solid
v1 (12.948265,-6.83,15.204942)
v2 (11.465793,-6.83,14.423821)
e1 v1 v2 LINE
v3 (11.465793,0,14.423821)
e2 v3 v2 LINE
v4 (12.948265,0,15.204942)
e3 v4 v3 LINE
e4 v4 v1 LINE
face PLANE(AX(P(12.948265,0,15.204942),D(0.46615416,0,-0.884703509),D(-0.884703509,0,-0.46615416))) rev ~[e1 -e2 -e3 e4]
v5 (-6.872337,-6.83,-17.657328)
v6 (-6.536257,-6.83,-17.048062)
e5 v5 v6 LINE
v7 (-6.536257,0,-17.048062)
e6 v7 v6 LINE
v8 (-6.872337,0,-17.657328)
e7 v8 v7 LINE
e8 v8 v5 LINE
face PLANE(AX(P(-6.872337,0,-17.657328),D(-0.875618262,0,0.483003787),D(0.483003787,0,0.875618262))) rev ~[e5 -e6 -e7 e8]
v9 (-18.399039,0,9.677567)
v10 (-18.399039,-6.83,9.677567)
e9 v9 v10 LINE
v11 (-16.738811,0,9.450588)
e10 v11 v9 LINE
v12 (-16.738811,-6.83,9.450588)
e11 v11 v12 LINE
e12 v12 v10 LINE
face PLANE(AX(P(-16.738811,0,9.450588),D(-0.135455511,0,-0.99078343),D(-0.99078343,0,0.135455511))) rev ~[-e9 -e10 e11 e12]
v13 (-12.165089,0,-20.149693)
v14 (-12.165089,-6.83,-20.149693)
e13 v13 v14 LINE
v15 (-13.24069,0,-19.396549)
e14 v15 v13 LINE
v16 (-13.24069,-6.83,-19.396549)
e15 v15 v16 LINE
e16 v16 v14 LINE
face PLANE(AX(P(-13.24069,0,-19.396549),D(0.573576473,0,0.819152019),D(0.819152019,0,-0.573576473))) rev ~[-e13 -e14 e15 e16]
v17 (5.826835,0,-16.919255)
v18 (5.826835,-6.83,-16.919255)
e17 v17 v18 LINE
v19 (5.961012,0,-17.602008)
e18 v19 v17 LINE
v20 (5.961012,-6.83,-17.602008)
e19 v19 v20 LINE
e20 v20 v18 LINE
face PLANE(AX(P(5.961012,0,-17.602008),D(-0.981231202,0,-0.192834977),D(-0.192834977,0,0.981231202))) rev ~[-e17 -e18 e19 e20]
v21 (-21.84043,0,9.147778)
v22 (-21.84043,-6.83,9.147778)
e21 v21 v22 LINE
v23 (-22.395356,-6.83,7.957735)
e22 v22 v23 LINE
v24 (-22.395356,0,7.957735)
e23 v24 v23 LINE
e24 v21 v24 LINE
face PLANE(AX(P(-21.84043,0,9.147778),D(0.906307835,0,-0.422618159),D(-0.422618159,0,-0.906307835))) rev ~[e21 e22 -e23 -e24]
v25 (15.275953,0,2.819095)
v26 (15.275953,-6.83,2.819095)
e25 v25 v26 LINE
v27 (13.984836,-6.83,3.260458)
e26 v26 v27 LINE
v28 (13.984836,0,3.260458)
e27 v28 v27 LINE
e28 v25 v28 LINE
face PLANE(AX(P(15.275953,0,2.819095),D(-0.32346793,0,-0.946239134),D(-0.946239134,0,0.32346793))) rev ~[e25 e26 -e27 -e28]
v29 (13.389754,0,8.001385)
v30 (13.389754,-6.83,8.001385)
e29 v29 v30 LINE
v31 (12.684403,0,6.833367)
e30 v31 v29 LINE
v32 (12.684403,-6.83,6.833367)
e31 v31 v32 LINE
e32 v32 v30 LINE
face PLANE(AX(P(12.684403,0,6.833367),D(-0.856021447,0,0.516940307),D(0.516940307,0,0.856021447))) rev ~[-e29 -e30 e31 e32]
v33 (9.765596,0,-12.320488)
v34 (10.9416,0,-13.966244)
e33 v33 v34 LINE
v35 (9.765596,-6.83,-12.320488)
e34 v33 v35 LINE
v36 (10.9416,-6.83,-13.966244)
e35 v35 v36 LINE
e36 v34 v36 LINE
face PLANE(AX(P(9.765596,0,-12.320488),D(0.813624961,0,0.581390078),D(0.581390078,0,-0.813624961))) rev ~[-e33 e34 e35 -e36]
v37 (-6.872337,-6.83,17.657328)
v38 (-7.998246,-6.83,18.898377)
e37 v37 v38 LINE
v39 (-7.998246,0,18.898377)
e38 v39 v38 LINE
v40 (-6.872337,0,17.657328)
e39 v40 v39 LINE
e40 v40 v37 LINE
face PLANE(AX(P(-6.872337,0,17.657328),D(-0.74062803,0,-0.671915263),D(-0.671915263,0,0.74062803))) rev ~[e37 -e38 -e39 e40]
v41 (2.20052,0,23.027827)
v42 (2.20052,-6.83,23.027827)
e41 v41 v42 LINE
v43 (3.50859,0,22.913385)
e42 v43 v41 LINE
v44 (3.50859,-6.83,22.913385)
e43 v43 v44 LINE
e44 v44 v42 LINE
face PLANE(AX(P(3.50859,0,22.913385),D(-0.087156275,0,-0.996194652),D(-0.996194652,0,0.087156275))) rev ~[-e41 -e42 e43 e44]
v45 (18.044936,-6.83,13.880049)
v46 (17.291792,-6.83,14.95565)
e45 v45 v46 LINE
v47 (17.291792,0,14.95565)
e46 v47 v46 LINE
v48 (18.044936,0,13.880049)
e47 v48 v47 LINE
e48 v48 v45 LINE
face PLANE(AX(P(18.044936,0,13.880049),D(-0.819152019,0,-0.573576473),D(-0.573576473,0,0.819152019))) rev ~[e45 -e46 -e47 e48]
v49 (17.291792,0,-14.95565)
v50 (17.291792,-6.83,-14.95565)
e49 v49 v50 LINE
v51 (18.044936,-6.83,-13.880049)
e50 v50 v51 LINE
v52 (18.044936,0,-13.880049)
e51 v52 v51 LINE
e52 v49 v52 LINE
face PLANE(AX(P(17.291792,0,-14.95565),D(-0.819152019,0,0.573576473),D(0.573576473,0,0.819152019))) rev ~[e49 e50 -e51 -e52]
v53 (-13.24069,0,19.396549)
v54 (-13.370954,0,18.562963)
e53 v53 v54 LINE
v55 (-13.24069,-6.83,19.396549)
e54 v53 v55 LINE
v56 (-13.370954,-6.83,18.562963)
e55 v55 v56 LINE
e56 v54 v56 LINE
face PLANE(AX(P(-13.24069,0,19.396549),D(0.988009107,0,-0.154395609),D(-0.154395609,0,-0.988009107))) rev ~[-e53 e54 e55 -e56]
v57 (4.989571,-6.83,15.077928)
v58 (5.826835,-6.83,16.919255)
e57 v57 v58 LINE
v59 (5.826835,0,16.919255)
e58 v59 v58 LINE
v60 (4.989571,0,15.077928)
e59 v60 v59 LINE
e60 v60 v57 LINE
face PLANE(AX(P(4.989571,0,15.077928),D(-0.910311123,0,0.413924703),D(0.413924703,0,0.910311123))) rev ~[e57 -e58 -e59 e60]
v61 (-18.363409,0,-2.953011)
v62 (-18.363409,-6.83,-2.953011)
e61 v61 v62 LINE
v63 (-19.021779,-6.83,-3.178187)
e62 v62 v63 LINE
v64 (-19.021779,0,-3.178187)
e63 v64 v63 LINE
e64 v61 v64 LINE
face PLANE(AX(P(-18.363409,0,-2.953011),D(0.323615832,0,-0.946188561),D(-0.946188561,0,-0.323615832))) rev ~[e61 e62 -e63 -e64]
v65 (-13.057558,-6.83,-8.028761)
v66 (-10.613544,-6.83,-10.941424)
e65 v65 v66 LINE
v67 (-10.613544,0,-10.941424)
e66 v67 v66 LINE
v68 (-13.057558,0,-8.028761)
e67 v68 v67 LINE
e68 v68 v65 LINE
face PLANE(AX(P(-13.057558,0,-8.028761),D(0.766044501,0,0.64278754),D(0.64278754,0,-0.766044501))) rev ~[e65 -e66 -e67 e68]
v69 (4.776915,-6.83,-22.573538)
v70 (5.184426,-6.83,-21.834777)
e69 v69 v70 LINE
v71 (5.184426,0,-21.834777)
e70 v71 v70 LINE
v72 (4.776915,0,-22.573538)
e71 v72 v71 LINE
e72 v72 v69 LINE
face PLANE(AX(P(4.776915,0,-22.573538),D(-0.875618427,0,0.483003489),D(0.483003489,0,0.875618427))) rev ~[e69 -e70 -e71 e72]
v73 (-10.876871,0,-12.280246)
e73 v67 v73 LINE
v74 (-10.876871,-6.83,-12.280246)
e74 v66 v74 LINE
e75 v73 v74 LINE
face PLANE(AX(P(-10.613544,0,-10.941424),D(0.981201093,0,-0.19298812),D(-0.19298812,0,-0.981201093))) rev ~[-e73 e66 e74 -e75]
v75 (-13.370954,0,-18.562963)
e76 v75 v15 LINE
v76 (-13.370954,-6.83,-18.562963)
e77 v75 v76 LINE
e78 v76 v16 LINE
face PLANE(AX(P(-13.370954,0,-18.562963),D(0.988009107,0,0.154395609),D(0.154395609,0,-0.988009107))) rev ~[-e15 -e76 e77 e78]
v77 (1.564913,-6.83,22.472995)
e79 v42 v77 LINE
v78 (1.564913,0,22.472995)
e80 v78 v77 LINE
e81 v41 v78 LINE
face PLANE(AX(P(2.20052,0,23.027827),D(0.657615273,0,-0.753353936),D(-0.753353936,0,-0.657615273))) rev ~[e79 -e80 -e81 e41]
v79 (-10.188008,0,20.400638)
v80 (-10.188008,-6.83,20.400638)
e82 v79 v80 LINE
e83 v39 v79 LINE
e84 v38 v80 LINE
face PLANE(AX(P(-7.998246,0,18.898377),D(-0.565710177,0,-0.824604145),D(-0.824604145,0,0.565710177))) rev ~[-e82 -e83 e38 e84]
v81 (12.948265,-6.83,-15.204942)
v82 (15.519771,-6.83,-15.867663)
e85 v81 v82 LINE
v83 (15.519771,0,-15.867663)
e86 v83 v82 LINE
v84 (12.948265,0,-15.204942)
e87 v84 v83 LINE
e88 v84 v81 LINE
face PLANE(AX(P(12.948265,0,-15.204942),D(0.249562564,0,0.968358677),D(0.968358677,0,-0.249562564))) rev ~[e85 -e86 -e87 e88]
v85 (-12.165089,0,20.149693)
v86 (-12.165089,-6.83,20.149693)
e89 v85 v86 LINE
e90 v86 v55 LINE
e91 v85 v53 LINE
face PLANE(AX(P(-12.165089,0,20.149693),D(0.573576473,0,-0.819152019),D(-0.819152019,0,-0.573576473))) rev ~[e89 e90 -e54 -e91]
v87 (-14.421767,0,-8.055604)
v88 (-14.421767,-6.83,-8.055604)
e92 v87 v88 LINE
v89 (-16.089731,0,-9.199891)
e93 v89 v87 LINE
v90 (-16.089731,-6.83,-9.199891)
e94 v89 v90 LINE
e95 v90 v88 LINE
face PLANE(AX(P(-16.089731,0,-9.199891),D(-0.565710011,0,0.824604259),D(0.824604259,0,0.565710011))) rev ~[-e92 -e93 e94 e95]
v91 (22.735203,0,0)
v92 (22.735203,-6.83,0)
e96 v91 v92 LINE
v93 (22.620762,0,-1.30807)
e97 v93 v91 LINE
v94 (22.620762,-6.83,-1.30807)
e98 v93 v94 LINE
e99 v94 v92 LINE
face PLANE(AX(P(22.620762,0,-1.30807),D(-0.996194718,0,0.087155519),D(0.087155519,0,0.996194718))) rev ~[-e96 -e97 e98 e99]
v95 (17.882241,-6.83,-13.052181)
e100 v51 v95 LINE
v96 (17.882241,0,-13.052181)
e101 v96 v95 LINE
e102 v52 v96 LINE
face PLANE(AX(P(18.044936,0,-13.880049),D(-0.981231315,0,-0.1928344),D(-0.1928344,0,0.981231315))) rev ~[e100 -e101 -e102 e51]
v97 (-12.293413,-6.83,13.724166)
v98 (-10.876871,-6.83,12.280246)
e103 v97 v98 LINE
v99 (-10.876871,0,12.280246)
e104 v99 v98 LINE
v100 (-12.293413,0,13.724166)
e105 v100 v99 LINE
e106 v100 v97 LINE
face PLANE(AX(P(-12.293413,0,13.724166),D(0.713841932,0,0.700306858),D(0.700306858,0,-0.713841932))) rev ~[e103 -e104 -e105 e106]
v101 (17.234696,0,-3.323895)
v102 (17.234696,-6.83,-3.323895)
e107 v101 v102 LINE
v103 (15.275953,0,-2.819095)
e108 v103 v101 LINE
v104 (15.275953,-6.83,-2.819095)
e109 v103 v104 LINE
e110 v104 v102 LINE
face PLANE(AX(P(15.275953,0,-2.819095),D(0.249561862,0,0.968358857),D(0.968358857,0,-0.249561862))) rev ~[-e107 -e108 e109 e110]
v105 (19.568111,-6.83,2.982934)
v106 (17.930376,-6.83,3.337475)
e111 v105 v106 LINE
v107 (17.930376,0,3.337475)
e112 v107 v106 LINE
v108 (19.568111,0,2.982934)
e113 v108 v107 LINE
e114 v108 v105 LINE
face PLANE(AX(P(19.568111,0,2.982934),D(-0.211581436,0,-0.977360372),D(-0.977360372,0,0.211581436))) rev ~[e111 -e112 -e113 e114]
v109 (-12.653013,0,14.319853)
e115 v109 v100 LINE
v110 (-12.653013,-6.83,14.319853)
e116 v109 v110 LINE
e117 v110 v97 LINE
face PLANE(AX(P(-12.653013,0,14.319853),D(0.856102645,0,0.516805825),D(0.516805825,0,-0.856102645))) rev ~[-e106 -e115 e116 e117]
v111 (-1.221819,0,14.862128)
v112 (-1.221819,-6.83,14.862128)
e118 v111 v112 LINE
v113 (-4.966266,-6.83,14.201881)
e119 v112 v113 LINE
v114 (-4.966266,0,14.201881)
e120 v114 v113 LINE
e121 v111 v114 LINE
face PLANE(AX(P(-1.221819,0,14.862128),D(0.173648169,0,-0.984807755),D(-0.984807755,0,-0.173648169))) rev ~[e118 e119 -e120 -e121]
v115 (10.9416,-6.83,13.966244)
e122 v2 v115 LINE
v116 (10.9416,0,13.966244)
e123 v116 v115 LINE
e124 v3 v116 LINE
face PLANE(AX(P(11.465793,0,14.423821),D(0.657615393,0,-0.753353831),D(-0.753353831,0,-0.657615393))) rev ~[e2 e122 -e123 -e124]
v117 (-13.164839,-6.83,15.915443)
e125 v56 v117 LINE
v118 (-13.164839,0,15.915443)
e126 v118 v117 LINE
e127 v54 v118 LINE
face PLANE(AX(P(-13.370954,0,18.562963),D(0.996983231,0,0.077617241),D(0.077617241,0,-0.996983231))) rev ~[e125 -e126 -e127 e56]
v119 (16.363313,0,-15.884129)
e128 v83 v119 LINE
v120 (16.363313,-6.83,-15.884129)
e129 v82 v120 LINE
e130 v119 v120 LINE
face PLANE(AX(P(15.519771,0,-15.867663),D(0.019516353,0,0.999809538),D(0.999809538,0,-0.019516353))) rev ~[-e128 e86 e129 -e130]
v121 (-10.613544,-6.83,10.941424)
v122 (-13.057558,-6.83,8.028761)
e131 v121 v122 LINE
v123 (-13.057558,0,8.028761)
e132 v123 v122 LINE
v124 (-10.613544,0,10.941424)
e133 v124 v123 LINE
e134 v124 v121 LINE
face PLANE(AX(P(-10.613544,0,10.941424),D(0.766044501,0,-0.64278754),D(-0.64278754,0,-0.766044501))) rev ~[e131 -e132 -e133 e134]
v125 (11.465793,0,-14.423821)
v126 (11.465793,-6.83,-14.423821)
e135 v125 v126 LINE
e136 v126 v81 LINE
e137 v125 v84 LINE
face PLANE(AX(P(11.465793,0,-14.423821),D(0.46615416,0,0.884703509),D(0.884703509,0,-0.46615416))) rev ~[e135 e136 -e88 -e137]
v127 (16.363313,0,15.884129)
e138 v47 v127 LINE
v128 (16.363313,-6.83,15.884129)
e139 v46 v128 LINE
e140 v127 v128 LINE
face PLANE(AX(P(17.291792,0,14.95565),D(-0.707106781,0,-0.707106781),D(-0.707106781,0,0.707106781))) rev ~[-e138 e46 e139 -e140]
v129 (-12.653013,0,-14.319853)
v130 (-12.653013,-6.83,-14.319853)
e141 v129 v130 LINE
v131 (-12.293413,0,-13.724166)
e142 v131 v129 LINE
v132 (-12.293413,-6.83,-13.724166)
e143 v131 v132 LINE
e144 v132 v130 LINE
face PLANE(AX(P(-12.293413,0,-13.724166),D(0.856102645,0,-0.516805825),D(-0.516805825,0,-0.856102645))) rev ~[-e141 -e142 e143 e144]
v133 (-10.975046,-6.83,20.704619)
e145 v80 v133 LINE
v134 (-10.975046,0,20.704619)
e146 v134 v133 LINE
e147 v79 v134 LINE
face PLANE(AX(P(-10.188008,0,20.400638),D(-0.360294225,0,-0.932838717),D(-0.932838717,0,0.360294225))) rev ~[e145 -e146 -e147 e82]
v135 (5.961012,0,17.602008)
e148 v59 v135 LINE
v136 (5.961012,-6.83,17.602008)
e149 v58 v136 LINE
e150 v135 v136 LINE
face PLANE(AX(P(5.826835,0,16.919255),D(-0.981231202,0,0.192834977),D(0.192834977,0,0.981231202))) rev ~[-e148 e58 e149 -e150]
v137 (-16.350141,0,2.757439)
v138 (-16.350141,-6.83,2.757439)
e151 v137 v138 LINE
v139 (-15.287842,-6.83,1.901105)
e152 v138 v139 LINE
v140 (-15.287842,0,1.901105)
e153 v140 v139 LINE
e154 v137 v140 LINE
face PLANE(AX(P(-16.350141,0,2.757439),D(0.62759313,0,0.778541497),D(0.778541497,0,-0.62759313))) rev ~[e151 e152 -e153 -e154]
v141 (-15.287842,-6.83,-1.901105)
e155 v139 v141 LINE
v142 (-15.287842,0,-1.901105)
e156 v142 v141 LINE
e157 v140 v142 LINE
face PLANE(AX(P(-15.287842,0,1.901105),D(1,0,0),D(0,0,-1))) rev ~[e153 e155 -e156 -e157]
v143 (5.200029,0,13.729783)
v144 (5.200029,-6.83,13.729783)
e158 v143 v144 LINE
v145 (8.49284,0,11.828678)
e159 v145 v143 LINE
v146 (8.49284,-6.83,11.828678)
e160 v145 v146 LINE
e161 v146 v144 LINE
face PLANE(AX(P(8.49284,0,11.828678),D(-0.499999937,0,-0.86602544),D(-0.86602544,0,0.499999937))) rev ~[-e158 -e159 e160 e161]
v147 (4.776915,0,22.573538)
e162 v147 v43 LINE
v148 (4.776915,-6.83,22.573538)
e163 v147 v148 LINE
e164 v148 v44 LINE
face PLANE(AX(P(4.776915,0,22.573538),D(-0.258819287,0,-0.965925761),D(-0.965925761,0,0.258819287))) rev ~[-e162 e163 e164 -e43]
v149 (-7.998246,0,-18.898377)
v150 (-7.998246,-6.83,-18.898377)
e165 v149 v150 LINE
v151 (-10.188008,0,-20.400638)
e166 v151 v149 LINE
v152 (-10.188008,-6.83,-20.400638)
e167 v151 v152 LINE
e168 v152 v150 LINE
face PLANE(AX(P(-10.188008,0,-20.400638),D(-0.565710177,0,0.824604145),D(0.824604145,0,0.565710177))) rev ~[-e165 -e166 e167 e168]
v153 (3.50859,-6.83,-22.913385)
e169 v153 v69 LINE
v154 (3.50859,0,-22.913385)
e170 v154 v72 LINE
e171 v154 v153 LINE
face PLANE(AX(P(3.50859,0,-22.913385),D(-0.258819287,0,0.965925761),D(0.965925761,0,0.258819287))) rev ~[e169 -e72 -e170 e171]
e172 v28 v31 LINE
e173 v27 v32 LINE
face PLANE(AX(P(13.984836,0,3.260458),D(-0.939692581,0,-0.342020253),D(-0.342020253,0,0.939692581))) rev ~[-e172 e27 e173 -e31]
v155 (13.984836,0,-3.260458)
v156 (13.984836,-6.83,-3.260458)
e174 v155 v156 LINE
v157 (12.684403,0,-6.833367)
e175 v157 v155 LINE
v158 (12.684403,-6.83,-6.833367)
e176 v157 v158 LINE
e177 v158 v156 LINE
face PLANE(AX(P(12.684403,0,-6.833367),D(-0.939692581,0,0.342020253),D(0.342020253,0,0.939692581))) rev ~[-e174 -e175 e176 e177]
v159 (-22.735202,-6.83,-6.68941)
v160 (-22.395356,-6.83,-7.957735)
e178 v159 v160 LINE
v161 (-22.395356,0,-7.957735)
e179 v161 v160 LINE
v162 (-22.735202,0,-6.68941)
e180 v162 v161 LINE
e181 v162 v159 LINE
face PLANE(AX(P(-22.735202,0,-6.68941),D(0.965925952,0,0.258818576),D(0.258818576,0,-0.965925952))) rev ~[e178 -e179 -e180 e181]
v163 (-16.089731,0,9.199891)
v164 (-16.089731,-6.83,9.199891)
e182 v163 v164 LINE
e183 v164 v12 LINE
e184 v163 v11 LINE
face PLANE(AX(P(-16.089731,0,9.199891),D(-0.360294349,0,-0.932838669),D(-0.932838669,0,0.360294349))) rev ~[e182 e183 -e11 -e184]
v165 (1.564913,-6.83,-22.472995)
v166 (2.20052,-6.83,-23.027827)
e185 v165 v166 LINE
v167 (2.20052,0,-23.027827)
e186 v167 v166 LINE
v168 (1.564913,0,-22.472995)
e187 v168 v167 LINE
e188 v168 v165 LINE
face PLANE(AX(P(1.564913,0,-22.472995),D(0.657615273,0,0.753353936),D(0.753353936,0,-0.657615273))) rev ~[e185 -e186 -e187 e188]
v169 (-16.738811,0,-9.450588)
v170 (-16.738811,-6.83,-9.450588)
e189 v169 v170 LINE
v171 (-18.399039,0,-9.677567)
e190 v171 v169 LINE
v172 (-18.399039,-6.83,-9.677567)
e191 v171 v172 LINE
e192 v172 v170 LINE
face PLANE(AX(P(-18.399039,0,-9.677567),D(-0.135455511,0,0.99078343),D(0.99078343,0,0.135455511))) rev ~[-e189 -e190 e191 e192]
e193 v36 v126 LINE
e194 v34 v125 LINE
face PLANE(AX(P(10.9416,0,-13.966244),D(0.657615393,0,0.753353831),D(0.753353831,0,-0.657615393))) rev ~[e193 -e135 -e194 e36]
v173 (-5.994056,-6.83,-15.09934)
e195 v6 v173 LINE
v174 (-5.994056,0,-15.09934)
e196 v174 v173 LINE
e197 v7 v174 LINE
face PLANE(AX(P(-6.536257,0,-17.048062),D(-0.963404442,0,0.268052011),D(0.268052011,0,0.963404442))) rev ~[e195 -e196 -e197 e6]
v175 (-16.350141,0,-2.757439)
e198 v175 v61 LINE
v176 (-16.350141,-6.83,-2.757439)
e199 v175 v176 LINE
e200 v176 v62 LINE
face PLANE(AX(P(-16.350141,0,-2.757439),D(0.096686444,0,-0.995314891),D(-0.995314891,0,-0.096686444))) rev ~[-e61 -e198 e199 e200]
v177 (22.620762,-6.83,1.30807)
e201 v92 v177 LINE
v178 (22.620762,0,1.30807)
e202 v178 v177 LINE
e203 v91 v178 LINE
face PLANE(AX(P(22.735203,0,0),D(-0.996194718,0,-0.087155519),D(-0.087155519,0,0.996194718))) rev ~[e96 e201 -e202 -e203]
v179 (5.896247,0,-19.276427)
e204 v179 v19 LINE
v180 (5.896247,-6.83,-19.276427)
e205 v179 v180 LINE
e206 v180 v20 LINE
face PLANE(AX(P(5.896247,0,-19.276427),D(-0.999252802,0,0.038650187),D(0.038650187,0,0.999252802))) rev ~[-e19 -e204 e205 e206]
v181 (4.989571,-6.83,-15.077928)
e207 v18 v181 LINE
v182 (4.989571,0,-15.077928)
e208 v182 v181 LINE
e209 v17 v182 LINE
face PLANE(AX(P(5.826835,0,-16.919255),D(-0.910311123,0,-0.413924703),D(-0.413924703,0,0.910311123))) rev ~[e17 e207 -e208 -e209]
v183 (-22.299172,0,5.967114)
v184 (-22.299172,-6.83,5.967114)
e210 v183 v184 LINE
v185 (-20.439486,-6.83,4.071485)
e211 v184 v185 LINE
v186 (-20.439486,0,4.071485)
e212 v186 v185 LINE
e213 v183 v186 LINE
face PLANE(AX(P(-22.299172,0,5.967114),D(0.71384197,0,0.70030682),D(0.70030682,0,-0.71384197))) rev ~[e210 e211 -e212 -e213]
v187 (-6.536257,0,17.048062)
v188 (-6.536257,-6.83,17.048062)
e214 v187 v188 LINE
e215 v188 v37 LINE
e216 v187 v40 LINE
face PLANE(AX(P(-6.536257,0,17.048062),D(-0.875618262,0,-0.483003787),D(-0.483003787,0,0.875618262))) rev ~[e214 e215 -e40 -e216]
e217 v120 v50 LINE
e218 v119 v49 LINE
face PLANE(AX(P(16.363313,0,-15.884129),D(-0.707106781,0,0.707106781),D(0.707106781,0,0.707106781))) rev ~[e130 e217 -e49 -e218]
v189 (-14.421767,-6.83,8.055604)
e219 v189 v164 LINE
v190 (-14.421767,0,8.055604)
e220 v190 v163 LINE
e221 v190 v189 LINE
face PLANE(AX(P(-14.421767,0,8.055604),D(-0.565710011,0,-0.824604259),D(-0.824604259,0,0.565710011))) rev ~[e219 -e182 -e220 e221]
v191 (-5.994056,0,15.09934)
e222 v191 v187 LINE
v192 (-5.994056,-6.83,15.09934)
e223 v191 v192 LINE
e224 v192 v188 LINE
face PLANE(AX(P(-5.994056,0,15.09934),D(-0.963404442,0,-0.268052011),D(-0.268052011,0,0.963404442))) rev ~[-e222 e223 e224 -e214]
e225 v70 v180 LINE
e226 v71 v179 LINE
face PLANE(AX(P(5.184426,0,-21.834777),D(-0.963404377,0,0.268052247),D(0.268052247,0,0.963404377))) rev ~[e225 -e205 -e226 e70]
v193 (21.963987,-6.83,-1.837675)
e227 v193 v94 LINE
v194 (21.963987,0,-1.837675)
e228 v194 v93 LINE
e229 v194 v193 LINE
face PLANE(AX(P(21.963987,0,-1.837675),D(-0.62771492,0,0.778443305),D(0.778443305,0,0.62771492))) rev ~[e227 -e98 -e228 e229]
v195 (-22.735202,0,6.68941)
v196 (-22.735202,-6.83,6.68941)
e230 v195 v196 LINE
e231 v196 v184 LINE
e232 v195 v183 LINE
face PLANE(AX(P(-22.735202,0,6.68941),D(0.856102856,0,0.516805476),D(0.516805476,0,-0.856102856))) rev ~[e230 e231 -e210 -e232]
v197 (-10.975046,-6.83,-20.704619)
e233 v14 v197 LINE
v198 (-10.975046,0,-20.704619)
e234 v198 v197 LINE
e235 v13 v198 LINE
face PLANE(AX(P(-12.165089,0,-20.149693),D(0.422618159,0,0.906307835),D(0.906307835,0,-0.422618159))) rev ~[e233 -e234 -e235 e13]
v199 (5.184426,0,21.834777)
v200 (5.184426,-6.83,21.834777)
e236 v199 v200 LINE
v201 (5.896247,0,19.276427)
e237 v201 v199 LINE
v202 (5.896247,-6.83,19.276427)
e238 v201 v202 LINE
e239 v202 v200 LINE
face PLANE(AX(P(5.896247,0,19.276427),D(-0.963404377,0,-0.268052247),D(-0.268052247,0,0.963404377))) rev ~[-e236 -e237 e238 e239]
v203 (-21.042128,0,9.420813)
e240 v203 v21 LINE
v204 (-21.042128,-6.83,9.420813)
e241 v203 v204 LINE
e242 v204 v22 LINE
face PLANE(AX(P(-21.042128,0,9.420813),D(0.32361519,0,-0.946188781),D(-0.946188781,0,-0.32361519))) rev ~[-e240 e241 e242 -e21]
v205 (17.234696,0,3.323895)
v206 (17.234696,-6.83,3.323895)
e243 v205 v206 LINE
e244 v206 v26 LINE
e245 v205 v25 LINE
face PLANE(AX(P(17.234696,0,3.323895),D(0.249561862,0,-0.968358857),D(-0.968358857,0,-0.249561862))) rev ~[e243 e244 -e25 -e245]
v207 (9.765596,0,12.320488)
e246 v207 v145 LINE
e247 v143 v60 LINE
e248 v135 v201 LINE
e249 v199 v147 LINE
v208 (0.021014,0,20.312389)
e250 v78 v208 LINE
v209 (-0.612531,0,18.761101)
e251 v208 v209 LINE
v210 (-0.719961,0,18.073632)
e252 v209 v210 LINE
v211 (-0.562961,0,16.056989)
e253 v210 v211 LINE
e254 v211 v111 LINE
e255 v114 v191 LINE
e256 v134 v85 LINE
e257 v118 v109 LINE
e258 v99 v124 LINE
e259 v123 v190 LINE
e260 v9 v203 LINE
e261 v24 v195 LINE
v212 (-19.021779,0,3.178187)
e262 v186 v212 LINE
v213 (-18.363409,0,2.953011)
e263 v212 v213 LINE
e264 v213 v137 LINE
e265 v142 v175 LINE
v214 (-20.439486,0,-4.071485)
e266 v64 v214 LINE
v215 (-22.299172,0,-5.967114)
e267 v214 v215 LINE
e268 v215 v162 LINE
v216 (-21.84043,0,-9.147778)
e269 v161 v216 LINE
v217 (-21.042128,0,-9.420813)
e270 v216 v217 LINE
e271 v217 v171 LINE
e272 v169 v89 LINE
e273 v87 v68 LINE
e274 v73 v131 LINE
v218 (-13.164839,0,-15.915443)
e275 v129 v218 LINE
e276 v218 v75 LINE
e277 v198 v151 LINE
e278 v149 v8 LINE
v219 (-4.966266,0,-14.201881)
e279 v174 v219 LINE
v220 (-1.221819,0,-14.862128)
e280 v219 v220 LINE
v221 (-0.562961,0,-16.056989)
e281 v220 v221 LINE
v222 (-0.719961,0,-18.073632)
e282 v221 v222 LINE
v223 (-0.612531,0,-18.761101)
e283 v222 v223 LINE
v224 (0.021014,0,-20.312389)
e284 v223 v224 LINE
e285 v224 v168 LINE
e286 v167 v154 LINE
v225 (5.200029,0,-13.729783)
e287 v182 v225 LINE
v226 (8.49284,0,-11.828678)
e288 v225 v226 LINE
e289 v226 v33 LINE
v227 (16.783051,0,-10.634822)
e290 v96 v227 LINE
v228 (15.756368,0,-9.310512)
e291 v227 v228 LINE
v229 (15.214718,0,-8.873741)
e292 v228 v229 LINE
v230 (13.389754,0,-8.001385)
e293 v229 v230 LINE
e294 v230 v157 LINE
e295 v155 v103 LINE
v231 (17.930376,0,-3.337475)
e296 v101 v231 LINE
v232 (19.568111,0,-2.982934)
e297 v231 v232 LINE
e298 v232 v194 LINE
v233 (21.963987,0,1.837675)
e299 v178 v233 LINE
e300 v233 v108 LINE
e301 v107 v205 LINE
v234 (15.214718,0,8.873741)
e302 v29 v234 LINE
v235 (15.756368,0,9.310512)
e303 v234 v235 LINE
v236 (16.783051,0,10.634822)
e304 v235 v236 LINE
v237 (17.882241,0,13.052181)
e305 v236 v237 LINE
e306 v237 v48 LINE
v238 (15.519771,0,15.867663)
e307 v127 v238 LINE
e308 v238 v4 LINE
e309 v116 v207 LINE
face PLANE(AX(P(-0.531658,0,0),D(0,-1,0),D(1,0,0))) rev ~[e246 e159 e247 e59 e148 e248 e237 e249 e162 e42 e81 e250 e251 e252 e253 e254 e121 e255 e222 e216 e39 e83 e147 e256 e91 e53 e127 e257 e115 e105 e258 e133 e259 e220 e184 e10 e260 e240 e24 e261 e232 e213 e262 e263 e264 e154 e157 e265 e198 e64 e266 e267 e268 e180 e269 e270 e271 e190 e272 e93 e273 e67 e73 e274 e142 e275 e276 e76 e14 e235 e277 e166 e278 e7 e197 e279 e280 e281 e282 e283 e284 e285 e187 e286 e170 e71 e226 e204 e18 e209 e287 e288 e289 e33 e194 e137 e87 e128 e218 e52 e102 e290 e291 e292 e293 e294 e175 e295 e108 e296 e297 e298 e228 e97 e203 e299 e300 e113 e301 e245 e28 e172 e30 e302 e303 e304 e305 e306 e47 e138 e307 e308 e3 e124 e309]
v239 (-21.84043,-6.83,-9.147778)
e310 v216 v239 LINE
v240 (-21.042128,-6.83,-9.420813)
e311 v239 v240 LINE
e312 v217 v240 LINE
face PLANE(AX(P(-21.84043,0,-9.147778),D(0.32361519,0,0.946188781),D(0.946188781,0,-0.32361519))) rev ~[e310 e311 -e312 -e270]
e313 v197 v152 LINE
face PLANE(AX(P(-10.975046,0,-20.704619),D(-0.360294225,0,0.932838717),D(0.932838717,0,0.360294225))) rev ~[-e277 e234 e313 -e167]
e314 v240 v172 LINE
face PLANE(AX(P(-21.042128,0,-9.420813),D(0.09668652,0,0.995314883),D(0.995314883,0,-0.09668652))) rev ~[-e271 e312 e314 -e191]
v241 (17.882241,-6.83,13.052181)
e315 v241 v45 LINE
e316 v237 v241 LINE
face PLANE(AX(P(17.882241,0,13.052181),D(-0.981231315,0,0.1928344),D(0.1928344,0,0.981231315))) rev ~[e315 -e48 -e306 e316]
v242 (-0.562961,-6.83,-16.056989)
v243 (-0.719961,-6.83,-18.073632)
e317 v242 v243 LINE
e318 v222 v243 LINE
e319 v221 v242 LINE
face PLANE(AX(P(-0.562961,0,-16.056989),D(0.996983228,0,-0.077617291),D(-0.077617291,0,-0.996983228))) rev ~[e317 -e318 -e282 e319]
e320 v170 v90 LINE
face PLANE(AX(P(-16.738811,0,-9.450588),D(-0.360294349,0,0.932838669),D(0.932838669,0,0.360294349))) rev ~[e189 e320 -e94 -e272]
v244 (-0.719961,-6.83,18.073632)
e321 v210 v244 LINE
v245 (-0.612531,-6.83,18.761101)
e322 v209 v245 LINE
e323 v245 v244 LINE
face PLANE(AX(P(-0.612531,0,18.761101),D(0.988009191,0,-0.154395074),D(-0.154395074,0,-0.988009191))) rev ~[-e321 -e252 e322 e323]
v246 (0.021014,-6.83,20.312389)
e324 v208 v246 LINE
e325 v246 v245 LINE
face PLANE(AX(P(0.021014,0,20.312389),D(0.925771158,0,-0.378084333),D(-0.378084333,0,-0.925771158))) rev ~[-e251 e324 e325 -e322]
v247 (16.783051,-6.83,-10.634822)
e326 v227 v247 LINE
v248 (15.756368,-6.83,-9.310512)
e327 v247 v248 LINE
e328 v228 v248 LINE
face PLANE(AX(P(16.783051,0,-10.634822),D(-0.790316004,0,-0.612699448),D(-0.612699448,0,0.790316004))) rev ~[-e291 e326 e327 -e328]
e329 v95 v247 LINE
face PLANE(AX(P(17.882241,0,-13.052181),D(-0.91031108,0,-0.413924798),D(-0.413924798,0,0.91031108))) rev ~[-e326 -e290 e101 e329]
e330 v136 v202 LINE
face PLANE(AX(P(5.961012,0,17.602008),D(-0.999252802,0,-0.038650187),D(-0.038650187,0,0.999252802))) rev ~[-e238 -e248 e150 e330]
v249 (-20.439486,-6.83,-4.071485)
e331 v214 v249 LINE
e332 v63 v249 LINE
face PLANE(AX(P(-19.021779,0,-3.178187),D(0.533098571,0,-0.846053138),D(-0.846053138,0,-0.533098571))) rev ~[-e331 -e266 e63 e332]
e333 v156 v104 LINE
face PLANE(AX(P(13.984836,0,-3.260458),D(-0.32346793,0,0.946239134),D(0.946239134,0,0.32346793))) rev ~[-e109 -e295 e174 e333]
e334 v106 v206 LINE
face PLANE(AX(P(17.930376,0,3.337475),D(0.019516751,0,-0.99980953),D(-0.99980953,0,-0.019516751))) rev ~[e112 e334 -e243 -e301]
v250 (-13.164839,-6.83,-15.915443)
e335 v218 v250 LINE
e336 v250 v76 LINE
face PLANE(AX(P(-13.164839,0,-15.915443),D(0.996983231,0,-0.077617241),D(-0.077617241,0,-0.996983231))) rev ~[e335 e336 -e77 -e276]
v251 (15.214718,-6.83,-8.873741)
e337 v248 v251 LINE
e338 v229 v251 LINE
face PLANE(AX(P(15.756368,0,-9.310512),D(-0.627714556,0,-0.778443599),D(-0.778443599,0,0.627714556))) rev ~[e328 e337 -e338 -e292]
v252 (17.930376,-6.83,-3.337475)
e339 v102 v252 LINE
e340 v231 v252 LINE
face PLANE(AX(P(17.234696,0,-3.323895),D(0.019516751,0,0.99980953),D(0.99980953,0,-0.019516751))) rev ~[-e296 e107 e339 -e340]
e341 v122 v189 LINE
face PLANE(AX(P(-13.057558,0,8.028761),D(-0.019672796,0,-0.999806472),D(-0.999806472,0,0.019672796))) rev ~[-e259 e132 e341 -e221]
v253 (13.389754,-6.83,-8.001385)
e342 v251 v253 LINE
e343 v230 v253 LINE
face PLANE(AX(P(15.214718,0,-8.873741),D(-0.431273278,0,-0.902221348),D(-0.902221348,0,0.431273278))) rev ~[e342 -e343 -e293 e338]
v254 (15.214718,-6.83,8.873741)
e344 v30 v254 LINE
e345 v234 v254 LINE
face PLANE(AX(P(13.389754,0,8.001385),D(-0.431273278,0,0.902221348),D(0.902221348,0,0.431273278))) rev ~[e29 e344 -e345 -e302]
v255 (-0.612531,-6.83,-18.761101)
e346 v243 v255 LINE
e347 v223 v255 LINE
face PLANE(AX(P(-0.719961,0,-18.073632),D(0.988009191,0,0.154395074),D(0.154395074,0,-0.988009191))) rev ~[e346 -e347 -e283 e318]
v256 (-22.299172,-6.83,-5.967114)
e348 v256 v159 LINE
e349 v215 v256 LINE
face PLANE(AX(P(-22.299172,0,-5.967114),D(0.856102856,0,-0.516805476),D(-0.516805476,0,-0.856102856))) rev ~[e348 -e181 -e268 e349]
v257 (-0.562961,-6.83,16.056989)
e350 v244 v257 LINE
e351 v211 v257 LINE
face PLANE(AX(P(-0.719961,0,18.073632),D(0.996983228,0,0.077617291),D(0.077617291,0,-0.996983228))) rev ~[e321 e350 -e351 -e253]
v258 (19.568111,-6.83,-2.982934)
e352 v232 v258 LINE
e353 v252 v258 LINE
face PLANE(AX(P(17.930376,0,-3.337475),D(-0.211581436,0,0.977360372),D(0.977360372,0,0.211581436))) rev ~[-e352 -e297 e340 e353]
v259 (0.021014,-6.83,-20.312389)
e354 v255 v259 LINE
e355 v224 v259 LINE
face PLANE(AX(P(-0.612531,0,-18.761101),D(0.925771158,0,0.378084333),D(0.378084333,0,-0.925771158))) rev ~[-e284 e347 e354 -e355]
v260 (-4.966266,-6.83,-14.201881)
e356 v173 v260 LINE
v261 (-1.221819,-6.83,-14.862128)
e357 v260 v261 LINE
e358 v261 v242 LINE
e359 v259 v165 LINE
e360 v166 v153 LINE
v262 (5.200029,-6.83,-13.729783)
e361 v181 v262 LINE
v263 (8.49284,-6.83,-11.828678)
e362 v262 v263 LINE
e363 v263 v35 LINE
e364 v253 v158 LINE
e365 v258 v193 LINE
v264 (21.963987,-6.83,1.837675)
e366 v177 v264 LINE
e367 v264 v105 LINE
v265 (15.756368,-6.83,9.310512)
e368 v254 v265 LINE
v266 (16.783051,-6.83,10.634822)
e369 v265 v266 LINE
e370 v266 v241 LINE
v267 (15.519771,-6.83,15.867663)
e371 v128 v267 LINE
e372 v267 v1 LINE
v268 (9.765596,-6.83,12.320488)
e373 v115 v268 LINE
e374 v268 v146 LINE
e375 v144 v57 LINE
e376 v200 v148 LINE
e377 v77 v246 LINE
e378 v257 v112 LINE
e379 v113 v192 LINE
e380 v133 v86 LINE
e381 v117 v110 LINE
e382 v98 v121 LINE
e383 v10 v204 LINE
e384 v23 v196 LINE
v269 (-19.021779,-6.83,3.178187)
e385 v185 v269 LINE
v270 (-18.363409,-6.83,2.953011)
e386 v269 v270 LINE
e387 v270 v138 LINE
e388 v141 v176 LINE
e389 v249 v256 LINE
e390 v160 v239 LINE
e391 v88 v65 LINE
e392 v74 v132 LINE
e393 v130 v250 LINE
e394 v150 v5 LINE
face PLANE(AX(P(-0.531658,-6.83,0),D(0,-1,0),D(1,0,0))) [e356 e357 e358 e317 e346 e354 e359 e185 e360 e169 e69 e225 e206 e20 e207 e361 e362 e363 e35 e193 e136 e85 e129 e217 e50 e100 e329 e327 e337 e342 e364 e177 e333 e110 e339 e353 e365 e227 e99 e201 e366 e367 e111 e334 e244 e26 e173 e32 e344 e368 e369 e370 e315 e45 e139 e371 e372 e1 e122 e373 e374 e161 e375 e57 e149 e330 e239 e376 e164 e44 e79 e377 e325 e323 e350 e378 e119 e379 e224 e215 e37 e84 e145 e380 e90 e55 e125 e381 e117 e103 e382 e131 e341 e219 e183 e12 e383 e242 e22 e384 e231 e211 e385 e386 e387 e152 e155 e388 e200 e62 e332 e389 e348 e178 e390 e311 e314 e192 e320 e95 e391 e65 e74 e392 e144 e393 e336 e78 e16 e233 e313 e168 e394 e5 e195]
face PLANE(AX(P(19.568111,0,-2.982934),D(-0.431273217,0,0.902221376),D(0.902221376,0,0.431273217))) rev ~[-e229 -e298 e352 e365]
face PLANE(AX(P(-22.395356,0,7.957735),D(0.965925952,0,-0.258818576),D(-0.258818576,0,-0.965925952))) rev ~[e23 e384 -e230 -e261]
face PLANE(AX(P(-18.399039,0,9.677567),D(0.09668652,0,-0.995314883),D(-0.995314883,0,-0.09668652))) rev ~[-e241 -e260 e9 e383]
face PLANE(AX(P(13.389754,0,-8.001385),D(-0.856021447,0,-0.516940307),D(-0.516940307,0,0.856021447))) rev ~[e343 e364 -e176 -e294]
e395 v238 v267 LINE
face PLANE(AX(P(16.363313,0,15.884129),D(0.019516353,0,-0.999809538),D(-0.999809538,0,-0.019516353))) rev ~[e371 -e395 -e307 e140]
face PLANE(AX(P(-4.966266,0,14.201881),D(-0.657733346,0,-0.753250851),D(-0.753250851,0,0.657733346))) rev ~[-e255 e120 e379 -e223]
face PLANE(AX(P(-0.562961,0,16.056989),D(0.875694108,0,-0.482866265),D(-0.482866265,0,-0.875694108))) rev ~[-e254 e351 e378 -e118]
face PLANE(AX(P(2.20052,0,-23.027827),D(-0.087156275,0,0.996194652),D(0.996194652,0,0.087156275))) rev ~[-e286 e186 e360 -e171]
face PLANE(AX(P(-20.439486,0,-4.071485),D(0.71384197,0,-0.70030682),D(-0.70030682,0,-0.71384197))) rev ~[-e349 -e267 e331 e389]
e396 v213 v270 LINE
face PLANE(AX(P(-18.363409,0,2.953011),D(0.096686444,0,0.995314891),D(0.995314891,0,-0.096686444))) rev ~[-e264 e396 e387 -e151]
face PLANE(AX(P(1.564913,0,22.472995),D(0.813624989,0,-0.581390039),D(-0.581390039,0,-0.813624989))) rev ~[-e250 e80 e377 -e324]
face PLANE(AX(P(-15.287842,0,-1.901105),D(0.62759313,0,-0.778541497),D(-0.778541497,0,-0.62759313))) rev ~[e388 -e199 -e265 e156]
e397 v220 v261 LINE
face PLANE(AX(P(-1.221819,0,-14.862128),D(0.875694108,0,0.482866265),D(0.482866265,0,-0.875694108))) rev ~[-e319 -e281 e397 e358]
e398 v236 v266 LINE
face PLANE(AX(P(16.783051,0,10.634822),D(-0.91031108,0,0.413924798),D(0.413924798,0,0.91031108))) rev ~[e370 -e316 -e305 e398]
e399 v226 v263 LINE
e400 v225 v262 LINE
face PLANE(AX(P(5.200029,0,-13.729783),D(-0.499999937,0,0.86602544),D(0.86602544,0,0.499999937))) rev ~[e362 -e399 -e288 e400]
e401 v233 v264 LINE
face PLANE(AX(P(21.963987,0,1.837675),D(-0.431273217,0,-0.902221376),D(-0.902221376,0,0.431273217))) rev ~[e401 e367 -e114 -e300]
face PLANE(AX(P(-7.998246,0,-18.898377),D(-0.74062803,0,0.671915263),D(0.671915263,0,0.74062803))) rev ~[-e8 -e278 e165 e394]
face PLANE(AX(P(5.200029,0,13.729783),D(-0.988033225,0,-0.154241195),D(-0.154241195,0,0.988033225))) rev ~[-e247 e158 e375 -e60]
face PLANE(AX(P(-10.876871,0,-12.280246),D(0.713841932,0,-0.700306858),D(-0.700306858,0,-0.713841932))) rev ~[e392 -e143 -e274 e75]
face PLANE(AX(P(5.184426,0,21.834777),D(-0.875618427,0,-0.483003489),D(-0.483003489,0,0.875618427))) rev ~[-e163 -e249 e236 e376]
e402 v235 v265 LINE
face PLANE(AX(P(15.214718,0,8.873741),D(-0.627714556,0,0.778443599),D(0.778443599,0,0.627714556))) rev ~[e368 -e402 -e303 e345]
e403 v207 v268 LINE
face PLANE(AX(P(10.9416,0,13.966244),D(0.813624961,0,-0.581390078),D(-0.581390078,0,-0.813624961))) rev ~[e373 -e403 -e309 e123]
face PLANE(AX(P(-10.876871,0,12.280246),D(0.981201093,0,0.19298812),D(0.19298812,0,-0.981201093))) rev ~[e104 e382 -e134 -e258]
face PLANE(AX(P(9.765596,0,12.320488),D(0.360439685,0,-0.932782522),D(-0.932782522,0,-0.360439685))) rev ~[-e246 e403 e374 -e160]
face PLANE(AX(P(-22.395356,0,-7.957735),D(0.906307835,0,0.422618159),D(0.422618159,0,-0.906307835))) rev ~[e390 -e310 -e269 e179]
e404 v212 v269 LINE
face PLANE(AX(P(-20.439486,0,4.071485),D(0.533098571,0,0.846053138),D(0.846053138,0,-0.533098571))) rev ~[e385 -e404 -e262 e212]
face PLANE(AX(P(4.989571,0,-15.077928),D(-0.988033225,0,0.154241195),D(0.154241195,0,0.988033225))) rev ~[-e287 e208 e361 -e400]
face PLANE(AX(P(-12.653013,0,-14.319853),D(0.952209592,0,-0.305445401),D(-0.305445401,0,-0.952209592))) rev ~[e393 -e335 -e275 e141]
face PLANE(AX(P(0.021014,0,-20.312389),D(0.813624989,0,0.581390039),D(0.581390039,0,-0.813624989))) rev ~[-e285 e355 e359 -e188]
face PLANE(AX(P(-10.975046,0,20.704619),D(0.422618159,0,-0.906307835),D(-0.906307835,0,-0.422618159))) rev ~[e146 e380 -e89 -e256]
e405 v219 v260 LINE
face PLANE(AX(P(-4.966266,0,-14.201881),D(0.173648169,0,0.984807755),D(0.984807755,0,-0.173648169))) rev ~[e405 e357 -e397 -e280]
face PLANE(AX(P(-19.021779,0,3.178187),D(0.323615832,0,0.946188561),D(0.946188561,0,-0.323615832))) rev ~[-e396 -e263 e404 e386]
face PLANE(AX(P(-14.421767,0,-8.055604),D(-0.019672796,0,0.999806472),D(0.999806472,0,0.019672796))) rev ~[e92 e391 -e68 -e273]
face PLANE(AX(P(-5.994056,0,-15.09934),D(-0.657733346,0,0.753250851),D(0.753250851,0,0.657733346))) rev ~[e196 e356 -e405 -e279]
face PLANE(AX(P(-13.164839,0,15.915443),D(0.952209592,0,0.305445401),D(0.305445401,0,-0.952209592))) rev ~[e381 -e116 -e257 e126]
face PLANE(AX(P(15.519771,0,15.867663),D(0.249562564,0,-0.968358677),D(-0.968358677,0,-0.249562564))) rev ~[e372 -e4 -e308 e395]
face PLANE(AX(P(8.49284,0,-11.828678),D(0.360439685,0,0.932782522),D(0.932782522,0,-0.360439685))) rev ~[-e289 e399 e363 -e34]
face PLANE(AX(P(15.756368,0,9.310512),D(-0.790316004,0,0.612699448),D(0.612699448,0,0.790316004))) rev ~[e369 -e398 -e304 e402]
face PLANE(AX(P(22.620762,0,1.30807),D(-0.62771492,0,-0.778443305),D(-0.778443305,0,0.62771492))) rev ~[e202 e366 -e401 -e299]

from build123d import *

# Parameters (mm, degrees)
F1_DEPTH = 6.83


with BuildPart() as f1:
    # F0 (on Front) → F1 (new body)
    with BuildSketch(Plane.XZ):
        Polygon((15.519771, -15.867663), (16.363313, -15.884129), (17.291792, -14.95565), (18.044936, -13.880049), (17.882241, -13.052181), (16.783051, -10.634822), (15.756368, -9.310512), (15.214718, -8.873741), (13.389754, -8.001385), (12.684403, -6.833367), (13.984836, -3.260458), (15.275953, -2.819095), (17.234696, -3.323895), (17.930376, -3.337475), (19.568111, -2.982934), (21.963987, -1.837675), (22.620762, -1.30807), (22.735203, 0), (22.620762, 1.30807), (21.963987, 1.837675), (19.568111, 2.982934), (17.930376, 3.337475), (17.234696, 3.323895), (15.275953, 2.819095), (13.984836, 3.260458), (12.684403, 6.833367), (13.389754, 8.001385), (15.214718, 8.873741), (15.756368, 9.310512), (16.783051, 10.634822), (17.882241, 13.052181), (18.044936, 13.880049), (17.291792, 14.95565), (16.363313, 15.884129), (15.519771, 15.867663), (12.948265, 15.204942), (11.465793, 14.423821), (10.9416, 13.966244), (9.765596, 12.320488), (8.49284, 11.828678), (5.200029, 13.729783), (4.989571, 15.077928), (5.826835, 16.919255), (5.961012, 17.602008), (5.896247, 19.276427), (5.184426, 21.834777), (4.776915, 22.573538), (3.50859, 22.913385), (2.20052, 23.027827), (1.564913, 22.472995), (0.021014, 20.312389), (-0.612531, 18.761101), (-0.719961, 18.073632), (-0.562961, 16.056989), (-1.221819, 14.862128), (-4.966266, 14.201881), (-5.994056, 15.09934), (-6.536257, 17.048062), (-6.872337, 17.657328), (-7.998246, 18.898377), (-10.188008, 20.400638), (-10.975046, 20.704619), (-12.165089, 20.149693), (-13.24069, 19.396549), (-13.370954, 18.562963), (-13.164839, 15.915443), (-12.653013, 14.319853), (-12.293413, 13.724166), (-10.876871, 12.280246), (-10.613544, 10.941424), (-13.057558, 8.028761), (-14.421767, 8.055604), (-16.089731, 9.199891), (-16.738811, 9.450588), (-18.399039, 9.677567), (-21.042128, 9.420813), (-21.84043, 9.147778), (-22.395356, 7.957735), (-22.735202, 6.68941), (-22.299172, 5.967114), (-20.439486, 4.071485), (-19.021779, 3.178187), (-18.363409, 2.953011), (-16.350141, 2.757439), (-15.287842, 1.901105), (-15.287842, -1.901105), (-16.350141, -2.757439), (-18.363409, -2.953011), (-19.021779, -3.178187), (-20.439486, -4.071485), (-22.299172, -5.967114), (-22.735202, -6.68941), (-22.395356, -7.957735), (-21.84043, -9.147778), (-21.042128, -9.420813), (-18.399039, -9.677567), (-16.738811, -9.450588), (-16.089731, -9.199891), (-14.421767, -8.055604), (-13.057558, -8.028761), (-10.613544, -10.941424), (-10.876871, -12.280246), (-12.293413, -13.724166), (-12.653013, -14.319853), (-13.164839, -15.915443), (-13.370954, -18.562963), (-13.24069, -19.396549), (-12.165089, -20.149693), (-10.975046, -20.704619), (-10.188008, -20.400638), (-7.998246, -18.898377), (-6.872337, -17.657328), (-6.536257, -17.048062), (-5.994056, -15.09934), (-4.966266, -14.201881), (-1.221819, -14.862128), (-0.562961, -16.056989), (-0.719961, -18.073632), (-0.612531, -18.761101), (0.021014, -20.312389), (1.564913, -22.472995), (2.20052, -23.027827), (3.50859, -22.913385), (4.776915, -22.573538), (5.184426, -21.834777), (5.896247, -19.276427), (5.961012, -17.602008), (5.826835, -16.919255), (4.989571, -15.077928), (5.200029, -13.729783), (8.49284, -11.828678), (9.765596, -12.320488), (10.9416, -13.966244), (11.465793, -14.423821), (12.948265, -15.204942), align=None)
    extrude(amount=F1_DEPTH)


solid = f1.part
